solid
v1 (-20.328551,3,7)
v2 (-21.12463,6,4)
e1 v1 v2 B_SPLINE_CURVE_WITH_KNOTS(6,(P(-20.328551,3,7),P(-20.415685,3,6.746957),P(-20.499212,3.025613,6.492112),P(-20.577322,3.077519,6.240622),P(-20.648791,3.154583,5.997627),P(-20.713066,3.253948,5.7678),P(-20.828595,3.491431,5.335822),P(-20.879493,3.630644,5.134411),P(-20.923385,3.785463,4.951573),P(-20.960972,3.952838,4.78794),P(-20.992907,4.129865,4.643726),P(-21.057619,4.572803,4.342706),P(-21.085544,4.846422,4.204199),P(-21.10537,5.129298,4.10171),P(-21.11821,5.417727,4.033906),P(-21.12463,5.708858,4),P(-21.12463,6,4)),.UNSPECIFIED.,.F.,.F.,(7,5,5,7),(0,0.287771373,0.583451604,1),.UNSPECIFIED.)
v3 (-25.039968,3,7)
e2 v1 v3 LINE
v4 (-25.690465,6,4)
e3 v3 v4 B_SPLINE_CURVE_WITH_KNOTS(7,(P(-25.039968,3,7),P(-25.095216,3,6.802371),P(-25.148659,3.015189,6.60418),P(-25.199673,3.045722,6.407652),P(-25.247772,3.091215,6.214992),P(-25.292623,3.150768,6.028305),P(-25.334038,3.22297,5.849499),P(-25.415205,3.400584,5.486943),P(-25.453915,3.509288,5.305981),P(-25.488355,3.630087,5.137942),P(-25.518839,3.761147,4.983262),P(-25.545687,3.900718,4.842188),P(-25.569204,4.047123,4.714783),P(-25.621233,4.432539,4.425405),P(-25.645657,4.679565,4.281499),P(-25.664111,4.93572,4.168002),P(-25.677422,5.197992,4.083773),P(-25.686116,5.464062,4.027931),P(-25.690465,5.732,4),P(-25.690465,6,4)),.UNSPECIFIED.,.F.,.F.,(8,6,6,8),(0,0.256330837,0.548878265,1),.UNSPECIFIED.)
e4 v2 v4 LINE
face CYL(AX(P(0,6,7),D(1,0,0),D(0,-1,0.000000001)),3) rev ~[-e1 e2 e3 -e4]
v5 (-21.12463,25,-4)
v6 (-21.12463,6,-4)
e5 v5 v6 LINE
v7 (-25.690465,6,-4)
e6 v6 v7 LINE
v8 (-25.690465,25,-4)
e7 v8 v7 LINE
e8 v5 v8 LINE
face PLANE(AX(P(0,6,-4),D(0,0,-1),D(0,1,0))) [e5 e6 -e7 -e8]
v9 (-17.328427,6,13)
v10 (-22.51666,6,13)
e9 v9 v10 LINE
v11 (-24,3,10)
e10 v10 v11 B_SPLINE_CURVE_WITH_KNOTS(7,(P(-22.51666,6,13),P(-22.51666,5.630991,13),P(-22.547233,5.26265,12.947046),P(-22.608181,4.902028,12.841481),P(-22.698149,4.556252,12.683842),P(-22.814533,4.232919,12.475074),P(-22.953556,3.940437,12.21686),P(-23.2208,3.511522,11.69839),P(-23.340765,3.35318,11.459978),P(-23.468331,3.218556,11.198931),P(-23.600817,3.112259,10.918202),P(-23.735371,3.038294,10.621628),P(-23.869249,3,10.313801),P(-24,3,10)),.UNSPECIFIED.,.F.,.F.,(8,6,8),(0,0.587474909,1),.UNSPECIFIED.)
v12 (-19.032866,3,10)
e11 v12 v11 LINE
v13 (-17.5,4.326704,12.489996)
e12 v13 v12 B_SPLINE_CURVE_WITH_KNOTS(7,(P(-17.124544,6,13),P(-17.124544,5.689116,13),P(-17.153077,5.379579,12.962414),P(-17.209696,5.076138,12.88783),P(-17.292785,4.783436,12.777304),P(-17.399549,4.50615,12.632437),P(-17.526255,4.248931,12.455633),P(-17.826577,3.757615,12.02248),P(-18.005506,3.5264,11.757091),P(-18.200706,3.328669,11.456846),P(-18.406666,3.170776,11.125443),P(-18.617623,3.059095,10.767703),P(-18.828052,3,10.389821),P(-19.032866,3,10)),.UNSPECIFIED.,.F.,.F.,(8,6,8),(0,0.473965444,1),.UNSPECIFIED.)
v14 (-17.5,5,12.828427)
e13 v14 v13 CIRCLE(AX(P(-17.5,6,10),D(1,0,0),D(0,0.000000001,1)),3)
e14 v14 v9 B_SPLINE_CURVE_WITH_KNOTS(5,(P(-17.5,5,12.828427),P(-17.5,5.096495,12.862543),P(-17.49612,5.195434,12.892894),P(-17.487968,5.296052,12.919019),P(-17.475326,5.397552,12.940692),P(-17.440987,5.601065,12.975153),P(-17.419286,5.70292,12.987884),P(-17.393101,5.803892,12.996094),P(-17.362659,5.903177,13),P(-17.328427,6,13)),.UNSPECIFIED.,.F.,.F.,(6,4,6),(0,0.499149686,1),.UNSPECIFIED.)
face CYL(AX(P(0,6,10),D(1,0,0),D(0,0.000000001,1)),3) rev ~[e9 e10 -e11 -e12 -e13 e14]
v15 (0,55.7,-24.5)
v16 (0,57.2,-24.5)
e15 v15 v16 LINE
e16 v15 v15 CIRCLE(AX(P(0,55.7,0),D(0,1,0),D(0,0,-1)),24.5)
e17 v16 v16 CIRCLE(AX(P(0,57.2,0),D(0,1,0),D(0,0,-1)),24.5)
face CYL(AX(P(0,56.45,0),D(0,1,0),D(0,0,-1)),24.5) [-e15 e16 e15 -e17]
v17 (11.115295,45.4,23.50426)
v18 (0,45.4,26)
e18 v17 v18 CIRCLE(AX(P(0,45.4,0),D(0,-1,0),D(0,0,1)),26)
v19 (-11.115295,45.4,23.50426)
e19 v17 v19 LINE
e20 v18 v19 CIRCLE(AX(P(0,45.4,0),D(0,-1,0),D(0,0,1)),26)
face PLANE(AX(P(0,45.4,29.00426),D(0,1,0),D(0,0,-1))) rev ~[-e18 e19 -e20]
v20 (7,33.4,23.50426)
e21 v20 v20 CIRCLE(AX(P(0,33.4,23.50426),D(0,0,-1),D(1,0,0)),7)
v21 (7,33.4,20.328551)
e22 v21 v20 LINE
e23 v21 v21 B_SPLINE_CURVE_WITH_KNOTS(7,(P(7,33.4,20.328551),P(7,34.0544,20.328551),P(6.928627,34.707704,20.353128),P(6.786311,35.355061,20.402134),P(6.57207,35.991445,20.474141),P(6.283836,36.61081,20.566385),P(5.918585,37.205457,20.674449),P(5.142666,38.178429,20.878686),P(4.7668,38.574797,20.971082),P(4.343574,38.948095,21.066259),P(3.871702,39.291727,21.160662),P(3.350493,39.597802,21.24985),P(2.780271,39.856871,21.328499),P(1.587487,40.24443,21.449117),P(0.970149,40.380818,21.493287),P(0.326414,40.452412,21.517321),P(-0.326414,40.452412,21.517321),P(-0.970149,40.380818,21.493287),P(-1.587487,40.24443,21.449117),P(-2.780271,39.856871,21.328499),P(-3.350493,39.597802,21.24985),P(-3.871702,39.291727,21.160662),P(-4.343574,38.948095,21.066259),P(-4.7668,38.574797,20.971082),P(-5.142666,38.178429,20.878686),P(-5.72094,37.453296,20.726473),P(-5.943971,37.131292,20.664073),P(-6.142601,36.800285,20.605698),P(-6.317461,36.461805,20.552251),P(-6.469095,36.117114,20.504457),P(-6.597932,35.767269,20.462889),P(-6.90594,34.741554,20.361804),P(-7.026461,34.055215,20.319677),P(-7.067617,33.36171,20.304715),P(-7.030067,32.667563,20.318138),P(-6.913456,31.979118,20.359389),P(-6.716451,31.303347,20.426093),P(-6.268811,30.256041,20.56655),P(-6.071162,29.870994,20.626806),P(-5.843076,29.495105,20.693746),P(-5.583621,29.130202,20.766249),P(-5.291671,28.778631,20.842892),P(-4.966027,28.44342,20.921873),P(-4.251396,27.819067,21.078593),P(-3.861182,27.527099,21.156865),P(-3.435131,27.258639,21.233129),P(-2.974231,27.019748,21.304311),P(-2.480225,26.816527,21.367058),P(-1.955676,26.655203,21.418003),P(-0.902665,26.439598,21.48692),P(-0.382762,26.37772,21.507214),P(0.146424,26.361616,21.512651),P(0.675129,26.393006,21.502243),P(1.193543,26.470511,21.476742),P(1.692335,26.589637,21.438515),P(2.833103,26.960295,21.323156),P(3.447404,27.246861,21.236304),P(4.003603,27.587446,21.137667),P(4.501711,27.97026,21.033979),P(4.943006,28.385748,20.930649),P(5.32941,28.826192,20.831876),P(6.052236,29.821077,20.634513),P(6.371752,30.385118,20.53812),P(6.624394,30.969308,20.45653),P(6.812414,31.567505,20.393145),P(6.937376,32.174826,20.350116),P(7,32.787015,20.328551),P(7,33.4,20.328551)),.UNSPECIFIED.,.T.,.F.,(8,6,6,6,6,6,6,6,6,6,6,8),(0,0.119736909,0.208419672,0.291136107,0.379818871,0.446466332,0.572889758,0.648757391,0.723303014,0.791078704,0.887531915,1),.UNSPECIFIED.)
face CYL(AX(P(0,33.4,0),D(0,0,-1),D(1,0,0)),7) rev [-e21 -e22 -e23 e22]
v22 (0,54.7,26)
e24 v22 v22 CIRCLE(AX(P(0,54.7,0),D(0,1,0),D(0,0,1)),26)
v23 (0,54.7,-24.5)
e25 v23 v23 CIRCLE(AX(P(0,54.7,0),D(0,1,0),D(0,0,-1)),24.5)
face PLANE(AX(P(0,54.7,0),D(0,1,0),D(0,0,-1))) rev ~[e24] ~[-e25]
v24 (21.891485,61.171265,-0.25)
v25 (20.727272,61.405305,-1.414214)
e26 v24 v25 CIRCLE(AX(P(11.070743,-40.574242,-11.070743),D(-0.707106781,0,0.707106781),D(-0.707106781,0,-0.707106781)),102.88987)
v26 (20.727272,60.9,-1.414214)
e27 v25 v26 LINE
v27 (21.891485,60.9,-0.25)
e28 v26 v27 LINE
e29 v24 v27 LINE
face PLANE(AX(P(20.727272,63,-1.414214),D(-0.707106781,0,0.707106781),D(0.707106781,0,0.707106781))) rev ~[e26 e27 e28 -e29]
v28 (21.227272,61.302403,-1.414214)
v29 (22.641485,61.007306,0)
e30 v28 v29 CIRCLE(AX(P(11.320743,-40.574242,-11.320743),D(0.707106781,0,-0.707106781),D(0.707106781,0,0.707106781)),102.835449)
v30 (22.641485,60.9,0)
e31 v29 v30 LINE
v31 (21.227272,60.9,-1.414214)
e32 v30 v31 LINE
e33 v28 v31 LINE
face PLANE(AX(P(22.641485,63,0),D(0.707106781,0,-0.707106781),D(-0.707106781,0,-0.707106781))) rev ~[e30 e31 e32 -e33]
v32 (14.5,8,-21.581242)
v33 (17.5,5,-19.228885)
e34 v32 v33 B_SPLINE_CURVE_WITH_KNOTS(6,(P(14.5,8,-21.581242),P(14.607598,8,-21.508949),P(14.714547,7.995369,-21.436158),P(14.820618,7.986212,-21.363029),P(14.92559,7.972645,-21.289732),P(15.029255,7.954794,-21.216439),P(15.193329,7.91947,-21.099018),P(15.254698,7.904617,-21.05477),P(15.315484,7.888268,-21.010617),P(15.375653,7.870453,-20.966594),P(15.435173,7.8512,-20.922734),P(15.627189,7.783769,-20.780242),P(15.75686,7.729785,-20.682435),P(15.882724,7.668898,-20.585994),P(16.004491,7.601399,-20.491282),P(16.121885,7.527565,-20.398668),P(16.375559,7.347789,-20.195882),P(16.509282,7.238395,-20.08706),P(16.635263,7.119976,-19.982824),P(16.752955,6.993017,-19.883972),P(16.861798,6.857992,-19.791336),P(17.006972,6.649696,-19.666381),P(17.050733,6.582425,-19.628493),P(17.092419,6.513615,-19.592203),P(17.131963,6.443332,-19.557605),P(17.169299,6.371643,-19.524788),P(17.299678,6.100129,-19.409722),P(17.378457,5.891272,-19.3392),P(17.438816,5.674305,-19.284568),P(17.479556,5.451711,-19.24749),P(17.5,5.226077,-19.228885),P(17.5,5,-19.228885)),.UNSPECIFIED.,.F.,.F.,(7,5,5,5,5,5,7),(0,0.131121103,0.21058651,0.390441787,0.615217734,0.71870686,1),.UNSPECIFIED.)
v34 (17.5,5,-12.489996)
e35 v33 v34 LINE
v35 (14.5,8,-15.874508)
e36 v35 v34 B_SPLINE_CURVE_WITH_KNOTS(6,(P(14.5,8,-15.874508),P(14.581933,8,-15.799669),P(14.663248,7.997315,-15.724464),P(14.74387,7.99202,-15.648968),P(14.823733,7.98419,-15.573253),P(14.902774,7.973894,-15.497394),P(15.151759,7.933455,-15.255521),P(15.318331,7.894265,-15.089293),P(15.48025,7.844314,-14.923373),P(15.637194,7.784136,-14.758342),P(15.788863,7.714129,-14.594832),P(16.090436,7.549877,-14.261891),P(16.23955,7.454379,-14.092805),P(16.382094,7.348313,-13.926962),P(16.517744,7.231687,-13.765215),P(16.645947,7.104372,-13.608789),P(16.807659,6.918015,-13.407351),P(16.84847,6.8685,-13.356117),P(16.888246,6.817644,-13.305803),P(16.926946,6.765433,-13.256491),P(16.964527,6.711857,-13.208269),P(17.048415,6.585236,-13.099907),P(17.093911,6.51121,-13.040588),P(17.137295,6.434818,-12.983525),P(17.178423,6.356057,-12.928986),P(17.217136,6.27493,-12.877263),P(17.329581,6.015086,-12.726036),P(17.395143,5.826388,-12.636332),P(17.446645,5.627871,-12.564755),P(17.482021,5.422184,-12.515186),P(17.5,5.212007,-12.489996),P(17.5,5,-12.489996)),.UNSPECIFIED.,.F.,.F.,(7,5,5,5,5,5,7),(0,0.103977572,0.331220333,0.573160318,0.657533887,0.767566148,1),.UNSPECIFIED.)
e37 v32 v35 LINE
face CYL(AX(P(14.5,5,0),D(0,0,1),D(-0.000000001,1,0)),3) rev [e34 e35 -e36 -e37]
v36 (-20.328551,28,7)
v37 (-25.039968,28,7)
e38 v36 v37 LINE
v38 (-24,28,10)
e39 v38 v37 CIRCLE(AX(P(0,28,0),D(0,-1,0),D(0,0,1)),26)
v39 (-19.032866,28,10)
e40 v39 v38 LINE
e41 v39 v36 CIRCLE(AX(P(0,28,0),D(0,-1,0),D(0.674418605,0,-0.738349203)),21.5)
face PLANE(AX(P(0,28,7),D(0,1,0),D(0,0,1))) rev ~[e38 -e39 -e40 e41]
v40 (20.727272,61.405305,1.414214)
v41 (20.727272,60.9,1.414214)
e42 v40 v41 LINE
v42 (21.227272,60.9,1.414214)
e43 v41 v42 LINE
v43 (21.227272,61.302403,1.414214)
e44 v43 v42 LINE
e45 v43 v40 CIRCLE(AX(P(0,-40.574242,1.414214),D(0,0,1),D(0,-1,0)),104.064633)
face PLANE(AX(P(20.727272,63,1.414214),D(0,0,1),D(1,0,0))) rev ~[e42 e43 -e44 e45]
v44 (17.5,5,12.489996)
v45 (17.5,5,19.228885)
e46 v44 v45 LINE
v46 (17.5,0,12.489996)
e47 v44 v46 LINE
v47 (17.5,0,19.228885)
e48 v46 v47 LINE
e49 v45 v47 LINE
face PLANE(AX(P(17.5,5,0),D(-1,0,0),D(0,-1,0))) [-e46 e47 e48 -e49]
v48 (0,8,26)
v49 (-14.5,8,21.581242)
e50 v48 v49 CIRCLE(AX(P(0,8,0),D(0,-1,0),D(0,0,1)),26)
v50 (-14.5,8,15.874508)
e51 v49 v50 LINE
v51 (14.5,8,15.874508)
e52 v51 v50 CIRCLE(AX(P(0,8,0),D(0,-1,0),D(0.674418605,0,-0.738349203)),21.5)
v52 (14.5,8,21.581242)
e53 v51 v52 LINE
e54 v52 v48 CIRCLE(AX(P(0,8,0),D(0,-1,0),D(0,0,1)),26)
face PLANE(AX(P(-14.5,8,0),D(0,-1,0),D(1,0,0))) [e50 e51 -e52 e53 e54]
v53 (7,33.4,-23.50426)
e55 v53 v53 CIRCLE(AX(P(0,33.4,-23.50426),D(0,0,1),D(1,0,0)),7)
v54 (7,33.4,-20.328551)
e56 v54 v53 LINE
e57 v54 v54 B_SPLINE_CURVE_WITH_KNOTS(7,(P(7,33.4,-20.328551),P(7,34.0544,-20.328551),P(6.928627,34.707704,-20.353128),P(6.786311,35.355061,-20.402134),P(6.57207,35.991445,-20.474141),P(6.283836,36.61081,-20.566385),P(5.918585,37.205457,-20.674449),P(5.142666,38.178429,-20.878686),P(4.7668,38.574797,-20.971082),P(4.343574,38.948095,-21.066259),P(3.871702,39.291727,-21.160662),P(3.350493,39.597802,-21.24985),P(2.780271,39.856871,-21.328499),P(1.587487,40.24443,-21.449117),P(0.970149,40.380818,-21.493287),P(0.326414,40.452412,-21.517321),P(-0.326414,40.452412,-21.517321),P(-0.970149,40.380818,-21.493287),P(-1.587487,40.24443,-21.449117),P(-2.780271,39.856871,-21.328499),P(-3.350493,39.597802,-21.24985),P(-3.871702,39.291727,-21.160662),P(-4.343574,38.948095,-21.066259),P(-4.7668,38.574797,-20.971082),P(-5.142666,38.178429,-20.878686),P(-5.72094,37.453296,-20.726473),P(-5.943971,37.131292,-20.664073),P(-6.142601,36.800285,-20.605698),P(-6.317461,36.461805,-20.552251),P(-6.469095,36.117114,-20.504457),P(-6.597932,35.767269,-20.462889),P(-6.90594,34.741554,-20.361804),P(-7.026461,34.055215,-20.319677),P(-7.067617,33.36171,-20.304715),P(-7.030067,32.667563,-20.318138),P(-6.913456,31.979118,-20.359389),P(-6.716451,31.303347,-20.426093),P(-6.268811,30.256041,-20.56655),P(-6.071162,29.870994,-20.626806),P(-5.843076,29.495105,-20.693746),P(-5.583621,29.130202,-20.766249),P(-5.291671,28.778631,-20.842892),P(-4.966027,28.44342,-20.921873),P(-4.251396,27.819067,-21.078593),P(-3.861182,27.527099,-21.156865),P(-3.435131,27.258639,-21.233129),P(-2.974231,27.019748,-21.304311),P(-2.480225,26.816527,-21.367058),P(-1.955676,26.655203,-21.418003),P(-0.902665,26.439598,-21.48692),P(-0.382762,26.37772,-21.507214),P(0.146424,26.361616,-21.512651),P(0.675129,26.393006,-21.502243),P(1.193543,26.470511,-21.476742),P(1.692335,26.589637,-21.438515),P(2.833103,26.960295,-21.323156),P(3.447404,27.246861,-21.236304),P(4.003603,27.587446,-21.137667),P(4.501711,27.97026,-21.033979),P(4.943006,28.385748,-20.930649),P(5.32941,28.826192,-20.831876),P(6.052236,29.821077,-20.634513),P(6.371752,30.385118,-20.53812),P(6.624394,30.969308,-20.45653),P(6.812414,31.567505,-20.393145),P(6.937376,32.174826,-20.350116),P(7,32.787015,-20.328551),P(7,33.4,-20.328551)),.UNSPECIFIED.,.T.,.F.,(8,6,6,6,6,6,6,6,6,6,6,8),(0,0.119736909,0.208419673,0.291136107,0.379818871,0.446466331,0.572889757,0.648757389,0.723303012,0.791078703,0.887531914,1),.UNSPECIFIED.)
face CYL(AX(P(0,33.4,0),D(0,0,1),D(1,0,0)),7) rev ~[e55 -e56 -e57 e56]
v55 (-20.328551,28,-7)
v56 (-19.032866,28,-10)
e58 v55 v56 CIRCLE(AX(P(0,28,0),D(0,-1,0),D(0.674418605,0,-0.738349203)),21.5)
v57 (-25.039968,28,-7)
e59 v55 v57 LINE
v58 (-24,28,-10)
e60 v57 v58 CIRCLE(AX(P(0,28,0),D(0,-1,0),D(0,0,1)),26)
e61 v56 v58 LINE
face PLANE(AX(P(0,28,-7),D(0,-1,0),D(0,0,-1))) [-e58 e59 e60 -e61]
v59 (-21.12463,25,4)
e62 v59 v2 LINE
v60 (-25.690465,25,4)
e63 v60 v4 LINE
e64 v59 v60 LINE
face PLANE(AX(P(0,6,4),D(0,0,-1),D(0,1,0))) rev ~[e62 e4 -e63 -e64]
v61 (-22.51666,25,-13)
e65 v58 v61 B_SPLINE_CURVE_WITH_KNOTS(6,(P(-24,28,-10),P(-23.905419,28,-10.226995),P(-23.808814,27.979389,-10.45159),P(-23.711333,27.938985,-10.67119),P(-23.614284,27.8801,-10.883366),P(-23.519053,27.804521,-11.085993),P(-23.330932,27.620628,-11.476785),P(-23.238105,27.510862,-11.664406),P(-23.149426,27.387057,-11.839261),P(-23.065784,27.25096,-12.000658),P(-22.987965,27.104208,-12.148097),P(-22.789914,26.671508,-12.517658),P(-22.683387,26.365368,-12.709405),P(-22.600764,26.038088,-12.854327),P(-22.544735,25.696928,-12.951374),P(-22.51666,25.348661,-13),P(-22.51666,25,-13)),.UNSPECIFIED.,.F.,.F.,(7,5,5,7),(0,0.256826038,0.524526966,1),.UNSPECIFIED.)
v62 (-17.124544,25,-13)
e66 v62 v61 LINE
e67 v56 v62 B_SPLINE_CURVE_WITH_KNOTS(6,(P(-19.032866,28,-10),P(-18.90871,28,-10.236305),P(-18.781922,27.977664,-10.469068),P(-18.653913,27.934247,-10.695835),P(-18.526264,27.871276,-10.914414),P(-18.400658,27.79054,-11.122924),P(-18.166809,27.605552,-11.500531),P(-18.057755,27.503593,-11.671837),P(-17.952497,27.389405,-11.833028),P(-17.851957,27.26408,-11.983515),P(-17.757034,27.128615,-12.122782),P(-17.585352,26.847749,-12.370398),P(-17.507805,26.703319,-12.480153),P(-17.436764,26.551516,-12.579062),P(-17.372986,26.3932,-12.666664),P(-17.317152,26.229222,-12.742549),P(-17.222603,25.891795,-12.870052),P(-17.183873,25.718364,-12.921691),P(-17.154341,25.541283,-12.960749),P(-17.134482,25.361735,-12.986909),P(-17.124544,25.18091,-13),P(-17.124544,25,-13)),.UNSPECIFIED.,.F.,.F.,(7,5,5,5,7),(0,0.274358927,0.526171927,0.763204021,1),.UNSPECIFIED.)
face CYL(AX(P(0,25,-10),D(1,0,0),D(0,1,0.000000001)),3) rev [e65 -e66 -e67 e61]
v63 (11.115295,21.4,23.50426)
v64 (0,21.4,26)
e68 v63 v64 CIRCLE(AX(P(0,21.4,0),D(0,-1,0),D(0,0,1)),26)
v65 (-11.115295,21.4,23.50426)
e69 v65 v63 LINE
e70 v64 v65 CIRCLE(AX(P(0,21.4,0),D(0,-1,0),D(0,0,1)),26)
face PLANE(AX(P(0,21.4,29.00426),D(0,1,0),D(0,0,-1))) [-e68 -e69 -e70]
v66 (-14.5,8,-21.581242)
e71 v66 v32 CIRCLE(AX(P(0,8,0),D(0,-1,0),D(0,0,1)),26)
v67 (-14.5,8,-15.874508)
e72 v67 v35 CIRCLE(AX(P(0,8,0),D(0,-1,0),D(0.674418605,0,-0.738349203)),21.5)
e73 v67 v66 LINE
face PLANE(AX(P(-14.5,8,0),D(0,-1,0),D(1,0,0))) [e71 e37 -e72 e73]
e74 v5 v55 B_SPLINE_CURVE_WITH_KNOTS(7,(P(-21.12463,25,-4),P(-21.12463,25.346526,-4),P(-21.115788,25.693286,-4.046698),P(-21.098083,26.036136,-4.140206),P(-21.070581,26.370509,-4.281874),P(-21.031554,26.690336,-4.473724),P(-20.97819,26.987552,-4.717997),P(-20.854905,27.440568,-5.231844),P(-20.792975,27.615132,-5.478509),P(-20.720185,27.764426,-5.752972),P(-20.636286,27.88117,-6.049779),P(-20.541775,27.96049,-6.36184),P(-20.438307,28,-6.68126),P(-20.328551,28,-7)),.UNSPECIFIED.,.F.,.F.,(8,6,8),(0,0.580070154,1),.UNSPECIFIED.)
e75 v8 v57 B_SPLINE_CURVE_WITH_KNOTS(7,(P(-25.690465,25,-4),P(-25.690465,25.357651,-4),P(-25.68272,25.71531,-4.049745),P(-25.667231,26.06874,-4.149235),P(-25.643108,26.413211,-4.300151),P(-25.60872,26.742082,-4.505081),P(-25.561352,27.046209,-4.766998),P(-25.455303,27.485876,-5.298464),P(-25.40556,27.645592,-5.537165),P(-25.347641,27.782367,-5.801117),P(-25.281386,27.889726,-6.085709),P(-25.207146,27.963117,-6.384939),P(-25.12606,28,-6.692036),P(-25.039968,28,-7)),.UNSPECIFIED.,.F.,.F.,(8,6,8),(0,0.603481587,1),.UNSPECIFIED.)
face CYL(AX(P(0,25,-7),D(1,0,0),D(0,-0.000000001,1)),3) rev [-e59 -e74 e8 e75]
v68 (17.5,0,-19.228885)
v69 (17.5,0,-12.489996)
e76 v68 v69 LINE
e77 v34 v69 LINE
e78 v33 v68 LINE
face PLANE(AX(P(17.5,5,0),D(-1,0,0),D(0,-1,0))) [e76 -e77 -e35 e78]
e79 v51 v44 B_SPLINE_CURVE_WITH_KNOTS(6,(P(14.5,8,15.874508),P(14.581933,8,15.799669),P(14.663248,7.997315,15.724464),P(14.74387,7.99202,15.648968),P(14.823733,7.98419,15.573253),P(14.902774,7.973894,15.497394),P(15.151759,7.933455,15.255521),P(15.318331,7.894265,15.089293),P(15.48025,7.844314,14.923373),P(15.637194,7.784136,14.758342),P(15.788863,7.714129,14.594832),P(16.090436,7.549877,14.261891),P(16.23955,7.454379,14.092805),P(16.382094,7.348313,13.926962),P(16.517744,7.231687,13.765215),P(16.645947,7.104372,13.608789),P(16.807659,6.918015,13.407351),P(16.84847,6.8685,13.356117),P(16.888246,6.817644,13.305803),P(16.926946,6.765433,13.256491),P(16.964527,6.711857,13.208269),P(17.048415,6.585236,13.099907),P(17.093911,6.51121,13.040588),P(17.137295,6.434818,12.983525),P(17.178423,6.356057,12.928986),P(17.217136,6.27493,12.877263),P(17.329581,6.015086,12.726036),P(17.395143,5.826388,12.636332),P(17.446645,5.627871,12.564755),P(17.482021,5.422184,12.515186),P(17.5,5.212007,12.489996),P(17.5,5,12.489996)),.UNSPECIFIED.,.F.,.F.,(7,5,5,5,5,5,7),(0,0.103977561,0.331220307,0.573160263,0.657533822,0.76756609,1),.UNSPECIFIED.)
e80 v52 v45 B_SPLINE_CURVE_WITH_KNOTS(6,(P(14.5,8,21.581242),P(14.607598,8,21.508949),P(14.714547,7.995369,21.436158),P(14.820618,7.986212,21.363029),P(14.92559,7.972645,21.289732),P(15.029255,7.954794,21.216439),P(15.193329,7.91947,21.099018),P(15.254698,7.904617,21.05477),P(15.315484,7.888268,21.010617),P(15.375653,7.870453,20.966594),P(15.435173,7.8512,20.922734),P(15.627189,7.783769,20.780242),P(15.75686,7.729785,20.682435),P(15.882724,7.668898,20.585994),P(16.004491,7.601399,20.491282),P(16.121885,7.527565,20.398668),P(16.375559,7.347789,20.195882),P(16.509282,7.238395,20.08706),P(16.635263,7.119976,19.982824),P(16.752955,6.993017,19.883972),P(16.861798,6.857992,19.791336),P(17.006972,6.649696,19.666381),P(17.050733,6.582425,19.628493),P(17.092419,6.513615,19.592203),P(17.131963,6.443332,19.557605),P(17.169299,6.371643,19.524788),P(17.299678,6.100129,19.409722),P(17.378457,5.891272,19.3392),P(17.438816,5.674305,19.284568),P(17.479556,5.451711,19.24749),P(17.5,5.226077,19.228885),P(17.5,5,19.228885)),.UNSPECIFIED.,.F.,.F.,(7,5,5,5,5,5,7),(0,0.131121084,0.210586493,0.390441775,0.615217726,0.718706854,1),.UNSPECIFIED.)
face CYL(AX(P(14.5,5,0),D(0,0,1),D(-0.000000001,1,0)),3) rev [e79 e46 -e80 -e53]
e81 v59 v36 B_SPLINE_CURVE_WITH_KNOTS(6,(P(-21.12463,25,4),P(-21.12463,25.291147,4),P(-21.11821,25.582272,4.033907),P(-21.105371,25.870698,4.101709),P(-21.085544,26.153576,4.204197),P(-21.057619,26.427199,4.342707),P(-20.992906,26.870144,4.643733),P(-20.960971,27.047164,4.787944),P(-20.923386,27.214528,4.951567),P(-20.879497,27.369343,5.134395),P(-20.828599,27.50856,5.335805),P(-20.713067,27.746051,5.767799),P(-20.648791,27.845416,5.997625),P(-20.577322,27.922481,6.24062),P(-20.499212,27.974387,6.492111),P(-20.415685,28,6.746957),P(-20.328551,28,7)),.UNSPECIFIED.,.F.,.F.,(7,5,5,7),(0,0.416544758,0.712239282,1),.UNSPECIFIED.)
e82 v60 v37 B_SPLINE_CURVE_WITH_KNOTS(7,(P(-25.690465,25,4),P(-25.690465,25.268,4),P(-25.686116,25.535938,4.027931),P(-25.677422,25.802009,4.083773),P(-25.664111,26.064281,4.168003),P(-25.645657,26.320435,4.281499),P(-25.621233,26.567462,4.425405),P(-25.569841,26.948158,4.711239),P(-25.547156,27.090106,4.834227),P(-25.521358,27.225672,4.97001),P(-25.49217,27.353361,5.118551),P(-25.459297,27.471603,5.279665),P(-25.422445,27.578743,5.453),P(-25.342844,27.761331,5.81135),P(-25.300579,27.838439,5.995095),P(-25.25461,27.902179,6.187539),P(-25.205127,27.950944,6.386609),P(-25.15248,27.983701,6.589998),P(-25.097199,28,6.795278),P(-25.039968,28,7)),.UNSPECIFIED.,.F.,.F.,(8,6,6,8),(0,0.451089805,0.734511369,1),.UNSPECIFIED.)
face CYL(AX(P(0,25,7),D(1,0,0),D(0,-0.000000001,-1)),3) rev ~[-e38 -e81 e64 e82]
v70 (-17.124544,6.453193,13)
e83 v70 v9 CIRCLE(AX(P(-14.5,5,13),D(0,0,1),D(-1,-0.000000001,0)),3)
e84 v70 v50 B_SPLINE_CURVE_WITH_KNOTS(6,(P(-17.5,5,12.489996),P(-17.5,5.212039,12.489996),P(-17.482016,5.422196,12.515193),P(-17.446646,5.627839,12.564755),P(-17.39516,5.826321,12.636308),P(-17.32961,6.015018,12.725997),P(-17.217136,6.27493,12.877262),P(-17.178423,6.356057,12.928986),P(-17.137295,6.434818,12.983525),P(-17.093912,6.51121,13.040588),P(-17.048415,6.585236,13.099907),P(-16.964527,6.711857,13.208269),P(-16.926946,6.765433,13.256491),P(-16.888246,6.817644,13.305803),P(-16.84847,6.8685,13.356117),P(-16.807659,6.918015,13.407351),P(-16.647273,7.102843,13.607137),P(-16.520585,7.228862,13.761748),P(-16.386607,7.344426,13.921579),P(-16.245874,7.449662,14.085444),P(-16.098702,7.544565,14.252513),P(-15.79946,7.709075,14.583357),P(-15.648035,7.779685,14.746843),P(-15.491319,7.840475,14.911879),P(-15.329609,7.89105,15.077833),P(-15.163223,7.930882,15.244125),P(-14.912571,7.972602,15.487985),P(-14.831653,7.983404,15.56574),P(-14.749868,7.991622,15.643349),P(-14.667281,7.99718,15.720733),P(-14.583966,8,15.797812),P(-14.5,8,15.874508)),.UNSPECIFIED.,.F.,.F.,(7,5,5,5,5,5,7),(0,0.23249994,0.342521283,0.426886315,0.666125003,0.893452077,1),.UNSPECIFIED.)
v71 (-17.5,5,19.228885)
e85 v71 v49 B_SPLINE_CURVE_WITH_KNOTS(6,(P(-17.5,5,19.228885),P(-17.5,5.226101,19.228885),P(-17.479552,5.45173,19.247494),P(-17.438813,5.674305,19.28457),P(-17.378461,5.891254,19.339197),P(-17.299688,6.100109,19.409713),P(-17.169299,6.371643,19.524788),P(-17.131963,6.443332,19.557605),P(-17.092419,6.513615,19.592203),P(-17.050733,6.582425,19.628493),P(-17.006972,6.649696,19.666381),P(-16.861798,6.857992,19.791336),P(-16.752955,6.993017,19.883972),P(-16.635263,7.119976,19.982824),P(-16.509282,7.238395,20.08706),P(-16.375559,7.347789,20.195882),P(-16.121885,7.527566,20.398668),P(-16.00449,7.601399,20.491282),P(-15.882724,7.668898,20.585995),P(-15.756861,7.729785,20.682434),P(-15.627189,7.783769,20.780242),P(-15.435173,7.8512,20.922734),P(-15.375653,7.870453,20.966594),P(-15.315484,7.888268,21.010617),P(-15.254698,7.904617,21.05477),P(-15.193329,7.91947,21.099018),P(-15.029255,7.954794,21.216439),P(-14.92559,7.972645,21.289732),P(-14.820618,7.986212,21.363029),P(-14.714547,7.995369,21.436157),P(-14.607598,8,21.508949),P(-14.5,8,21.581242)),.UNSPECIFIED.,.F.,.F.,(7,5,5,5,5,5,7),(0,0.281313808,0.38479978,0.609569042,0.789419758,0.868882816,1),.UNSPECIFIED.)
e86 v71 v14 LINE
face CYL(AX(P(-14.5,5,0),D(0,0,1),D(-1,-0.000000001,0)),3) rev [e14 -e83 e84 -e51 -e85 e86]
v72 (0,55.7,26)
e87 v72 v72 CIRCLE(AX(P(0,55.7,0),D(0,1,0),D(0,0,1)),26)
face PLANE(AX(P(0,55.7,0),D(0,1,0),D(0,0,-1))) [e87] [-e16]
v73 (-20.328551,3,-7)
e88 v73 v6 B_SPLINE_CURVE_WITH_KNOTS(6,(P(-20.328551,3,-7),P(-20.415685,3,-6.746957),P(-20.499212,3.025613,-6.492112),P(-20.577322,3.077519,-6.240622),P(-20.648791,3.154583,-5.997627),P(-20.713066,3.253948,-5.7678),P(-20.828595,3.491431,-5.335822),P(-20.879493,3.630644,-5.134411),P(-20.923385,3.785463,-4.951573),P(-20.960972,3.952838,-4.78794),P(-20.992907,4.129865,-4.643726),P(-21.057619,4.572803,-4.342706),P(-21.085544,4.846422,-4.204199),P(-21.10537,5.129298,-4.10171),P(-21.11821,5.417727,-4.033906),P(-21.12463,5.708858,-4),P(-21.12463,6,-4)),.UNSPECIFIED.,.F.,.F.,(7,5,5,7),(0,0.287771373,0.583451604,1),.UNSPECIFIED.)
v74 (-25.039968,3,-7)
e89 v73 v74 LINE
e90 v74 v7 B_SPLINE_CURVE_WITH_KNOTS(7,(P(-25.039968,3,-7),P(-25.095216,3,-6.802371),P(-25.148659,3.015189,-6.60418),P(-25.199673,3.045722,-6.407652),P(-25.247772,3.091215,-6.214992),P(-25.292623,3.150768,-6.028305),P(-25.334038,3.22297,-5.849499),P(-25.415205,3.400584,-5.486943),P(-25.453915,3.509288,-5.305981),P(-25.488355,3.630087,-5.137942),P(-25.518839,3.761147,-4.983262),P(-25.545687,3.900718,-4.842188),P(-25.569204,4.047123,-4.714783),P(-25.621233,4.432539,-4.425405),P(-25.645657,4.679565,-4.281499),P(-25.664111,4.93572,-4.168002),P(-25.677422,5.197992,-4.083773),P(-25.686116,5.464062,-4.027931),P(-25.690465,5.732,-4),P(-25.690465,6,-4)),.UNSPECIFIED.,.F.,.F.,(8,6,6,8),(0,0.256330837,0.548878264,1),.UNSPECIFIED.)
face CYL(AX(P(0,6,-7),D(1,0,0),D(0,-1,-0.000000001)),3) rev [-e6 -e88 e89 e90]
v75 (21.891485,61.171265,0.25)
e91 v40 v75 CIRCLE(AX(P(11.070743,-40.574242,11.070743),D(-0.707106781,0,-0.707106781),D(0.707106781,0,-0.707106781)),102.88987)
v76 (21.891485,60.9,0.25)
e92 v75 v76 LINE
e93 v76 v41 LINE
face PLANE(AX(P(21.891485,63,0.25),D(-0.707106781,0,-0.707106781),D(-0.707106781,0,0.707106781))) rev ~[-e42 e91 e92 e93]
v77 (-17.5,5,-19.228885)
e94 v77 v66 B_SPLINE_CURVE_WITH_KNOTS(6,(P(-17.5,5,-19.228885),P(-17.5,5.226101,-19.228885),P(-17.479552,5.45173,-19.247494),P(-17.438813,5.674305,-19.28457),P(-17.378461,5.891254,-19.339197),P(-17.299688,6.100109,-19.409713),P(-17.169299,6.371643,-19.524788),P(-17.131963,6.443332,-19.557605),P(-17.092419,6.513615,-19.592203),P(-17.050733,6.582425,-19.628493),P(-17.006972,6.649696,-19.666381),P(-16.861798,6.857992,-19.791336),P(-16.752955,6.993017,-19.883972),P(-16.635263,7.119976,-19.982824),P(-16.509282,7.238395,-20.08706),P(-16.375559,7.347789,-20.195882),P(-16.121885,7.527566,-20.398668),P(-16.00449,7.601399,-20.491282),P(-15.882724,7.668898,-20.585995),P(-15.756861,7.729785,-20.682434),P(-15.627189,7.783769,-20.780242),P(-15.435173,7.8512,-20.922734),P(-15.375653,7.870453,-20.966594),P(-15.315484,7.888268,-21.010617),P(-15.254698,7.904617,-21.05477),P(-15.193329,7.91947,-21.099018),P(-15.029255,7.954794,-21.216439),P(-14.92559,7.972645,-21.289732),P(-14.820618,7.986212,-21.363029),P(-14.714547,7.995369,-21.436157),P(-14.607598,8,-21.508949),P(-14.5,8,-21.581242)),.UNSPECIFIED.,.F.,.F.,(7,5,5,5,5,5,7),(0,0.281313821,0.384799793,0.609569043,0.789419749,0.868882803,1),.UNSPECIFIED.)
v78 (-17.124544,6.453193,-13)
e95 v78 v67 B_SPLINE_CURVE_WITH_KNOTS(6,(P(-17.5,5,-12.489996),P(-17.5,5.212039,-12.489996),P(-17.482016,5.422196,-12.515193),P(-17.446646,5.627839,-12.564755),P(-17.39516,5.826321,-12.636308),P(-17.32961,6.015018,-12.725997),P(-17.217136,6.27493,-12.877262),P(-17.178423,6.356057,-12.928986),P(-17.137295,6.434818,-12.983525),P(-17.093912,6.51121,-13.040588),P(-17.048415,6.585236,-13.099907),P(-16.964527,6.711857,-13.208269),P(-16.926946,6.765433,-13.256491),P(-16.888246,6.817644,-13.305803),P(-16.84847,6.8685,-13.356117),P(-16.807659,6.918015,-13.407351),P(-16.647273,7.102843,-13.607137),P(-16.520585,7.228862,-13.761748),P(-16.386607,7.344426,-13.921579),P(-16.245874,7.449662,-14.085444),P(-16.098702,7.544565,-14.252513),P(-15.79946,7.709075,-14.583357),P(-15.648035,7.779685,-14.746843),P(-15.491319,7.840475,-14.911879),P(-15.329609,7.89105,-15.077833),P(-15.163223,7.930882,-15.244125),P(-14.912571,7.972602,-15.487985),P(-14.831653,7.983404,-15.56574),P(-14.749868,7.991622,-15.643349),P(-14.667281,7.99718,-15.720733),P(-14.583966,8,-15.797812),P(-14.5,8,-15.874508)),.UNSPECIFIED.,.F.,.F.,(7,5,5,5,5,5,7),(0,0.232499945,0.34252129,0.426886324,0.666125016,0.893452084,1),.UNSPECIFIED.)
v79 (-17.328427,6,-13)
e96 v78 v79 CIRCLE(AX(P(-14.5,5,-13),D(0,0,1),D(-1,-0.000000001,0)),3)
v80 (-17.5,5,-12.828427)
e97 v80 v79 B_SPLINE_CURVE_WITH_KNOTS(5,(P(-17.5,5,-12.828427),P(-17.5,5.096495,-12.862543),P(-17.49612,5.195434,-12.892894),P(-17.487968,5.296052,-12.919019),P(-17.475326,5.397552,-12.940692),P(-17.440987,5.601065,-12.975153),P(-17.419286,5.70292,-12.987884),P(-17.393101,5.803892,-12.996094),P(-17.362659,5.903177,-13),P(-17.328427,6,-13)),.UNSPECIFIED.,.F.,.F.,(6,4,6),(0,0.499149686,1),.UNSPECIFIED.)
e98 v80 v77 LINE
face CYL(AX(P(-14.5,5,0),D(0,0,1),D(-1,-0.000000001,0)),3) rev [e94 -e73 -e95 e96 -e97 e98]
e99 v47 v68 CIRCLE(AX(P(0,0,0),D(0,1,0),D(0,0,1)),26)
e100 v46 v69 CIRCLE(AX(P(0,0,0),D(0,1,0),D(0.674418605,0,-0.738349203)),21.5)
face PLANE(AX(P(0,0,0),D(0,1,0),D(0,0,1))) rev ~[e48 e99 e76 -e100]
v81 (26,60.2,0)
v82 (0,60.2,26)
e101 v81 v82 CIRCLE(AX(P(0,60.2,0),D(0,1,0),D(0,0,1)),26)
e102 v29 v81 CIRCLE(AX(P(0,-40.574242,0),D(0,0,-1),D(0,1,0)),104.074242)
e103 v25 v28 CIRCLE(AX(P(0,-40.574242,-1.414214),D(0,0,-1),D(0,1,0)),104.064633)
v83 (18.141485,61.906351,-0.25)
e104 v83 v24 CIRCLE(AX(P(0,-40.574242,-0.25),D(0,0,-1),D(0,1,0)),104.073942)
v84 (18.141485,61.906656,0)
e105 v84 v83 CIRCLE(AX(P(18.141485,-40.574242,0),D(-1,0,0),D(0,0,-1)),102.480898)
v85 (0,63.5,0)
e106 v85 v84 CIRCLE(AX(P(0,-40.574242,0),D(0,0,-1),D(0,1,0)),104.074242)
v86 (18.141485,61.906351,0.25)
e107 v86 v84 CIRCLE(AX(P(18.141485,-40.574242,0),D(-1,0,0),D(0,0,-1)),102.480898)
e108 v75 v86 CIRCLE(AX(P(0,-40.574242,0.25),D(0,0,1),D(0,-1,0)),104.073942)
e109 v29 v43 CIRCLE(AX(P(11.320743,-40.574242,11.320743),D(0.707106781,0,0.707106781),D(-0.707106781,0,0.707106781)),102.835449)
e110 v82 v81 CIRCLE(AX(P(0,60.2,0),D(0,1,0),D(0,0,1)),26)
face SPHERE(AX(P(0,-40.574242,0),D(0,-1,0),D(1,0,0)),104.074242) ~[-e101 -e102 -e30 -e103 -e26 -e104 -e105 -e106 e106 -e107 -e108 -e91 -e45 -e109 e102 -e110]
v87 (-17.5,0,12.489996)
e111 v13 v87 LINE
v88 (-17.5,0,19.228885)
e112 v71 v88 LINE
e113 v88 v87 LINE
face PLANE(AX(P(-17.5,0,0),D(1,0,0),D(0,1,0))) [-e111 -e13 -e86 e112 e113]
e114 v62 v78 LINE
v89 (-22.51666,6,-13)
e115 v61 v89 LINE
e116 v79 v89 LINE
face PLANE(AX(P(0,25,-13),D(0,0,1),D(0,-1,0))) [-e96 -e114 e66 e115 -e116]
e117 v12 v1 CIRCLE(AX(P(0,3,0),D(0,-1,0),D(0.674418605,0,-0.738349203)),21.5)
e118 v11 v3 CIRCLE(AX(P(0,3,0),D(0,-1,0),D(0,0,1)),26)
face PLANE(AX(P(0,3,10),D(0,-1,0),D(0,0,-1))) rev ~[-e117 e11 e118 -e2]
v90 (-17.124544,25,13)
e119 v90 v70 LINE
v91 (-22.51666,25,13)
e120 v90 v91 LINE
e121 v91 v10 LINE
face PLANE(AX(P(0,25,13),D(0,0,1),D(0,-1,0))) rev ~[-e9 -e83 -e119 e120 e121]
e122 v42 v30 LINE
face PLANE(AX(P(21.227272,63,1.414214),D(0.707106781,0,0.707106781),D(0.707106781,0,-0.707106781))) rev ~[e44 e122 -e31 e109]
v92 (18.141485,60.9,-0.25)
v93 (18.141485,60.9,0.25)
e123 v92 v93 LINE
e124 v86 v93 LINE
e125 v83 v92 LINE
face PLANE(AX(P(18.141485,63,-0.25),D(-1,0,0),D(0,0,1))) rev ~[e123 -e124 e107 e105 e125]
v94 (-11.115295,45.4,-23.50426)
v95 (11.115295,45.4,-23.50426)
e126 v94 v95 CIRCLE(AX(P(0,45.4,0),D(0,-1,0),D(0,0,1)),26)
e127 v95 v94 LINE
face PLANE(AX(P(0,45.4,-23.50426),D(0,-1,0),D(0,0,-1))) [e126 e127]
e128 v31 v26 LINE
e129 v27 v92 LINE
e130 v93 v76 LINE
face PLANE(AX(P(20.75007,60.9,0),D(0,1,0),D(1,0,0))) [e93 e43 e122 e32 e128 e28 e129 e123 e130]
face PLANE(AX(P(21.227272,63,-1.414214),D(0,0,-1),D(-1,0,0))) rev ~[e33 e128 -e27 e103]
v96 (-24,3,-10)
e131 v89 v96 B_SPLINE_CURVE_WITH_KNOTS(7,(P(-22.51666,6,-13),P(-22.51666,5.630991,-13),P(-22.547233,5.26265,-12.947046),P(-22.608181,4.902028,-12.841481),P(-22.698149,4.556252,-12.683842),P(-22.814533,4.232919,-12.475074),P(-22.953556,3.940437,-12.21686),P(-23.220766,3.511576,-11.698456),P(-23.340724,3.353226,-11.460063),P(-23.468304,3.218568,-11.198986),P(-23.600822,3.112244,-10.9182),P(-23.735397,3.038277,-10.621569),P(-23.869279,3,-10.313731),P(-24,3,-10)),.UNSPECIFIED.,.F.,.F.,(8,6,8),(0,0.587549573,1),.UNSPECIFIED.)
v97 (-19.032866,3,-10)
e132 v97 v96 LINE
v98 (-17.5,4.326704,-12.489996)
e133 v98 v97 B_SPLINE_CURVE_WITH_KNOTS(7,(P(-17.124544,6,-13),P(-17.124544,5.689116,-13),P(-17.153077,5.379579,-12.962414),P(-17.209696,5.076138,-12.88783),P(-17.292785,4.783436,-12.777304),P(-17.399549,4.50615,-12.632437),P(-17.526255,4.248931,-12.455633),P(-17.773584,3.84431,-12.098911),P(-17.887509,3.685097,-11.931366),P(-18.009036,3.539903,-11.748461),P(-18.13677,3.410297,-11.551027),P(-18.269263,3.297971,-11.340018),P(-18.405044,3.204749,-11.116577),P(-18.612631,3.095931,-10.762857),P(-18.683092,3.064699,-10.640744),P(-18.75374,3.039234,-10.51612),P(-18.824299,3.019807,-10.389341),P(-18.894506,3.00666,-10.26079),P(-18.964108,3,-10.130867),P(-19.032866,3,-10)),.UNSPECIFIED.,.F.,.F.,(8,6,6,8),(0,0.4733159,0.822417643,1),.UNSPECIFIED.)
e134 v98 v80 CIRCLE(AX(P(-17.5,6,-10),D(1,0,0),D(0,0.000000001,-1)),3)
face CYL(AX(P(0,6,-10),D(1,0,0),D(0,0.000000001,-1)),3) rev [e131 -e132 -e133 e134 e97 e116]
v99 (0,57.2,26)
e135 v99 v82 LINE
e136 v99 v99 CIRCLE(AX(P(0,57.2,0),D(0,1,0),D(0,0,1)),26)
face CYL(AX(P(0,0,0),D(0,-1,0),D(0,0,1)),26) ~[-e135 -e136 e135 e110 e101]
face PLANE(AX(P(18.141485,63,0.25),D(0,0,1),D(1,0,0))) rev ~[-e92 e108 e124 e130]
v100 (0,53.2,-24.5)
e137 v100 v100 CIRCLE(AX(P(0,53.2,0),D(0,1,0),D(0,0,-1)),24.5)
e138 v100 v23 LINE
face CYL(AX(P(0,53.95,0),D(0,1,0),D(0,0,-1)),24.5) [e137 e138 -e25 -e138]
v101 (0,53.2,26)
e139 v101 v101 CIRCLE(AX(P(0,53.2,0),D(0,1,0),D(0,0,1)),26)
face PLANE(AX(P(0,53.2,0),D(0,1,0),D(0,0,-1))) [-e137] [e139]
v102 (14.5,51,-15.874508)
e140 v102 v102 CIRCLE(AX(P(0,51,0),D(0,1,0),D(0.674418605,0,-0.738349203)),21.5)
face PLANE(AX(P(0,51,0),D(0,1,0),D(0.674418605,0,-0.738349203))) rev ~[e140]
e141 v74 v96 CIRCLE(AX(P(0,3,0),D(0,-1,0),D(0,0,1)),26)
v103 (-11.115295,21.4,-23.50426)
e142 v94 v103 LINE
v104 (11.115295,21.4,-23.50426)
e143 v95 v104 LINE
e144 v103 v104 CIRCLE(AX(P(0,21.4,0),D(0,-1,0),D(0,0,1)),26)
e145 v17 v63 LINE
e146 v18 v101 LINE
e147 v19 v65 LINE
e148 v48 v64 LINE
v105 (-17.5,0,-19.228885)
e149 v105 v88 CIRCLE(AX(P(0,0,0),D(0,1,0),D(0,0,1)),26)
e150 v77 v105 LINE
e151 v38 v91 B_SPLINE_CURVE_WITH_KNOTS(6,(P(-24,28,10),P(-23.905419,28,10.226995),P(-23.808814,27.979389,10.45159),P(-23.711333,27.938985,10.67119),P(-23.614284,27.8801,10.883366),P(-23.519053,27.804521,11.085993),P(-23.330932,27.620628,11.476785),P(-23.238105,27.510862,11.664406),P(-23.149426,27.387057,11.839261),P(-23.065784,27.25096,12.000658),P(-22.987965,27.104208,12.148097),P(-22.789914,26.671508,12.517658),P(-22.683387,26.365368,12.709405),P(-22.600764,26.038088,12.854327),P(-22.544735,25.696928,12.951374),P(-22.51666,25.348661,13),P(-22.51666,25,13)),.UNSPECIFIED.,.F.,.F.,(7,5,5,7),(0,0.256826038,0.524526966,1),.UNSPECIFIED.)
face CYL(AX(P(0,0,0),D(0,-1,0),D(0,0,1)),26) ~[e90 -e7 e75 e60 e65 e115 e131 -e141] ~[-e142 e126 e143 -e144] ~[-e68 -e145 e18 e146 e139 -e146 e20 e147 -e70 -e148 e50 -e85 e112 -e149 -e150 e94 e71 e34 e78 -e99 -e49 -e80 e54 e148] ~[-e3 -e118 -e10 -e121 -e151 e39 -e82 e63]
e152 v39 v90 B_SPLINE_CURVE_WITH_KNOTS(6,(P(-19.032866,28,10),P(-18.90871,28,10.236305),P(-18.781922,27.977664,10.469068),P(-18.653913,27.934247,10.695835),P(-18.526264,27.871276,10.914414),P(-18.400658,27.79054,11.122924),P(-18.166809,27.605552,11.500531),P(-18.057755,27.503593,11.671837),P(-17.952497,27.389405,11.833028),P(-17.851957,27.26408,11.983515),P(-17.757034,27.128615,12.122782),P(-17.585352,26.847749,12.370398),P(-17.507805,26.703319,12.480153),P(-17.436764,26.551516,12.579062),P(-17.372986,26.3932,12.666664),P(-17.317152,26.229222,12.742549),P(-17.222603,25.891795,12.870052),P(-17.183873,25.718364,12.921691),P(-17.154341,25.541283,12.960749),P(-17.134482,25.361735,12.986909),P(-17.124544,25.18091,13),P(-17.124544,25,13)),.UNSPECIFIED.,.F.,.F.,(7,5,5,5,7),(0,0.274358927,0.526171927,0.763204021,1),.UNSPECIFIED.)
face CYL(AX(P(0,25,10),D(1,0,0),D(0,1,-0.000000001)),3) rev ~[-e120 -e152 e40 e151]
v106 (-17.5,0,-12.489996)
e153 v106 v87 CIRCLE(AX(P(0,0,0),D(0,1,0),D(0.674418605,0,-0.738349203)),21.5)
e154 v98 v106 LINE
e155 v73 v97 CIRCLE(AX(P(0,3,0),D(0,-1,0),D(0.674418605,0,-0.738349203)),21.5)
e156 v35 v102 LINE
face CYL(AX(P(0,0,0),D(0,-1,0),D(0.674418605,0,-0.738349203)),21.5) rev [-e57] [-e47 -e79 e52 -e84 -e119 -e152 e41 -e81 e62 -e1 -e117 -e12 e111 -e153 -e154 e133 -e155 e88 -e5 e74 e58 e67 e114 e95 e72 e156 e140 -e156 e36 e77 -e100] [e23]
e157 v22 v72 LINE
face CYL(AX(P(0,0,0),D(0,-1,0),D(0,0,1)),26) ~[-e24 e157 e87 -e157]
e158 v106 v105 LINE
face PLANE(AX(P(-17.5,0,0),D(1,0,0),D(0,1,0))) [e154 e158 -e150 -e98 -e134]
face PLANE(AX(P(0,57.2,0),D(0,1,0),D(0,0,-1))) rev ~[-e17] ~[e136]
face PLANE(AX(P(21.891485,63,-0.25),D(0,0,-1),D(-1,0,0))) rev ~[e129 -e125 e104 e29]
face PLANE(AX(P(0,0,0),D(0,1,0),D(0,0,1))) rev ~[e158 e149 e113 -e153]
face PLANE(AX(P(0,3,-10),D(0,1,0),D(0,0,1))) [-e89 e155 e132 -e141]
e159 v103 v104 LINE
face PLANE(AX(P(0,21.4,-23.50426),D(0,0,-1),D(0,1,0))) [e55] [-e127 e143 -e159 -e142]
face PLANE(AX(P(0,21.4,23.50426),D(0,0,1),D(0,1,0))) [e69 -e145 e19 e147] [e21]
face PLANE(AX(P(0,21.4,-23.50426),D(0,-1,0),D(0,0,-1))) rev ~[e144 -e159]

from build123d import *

# Parameters (mm, degrees)
SKETCH_1_R          = 26
EXTRUDE_1_DEPTH     = 60.2
SKETCH_3_R          = 7
CUT_EXTRUDE_1_DEPTH = 30.1
SKETCH_4_R          = 21.5
CUT_EXTRUDE_2_DEPTH = 51
SKETCH_5_W          = 1.5
SKETCH_5_H          = 1.5
CUT_EXTRUDE_3_DEPTH = 50
SKETCH_9_W          = 5.5
SKETCH_9_H          = 24
CUT_EXTRUDE_4_DEPTH = 25
CUT_EXTRUDE_5_DEPTH = 2.1


with BuildPart() as part:
    # Эскиз1 → Бобышка-Вытянуть1 (new body)
    with BuildSketch(Plane(origin=(0, 0, 0), x_dir=(1, 0, 0), z_dir=(0, 1, 0))):
        with Locations(Location((0, 0, 0), (0, 0, 270))):
            Circle(SKETCH_1_R)
    extrude(amount=EXTRUDE_1_DEPTH)

    # Эскиз2 → Повернуть1 (revolve)
    with BuildSketch(Plane.XY):
        with BuildLine():
            Line((26, 60.2), (0, 60.2))
            Line((0, 60.2), (0, 63.5))
            ThreePointArc((0, 63.5), (13.10429319, 62.671703918), (26, 60.2))
        make_face()
    revolve(axis=Axis((0, 60.2, 0), (0, 1, 0)))

    # Эскиз3 → Вырез-Вытянуть1 (cut, symmetric)
    with BuildSketch(Plane.XY):
        with Locations((0, 33.4)):
            Circle(SKETCH_3_R)
        with BuildLine():
            Line((17.5, 0), (-17.5, 0))
            Line((-17.5, 0), (-17.5, 5))
            ThreePointArc((-17.5, 5), (-16.621320344, 7.121320344), (-14.5, 8))
            Line((-14.5, 8), (14.5, 8))
            ThreePointArc((14.5, 8), (16.621320344, 7.121320344), (17.5, 5))
            Line((17.5, 5), (17.5, 0))
        make_face()
    extrude(amount=CUT_EXTRUDE_1_DEPTH, both=True, mode=Mode.SUBTRACT)

    # Эскиз4 → Вырез-Вытянуть2 (cut)
    with BuildSketch(Plane(origin=(0, 0, 0), x_dir=(1, 0, 0), z_dir=(0, 1, 0))):
        with Locations(Location((0, 0, 0), (0, 0, 47.590982222))):
            Circle(SKETCH_4_R)
    extrude(amount=CUT_EXTRUDE_2_DEPTH, mode=Mode.SUBTRACT)

    # Эскиз5 → Вырез-Повернуть1 (revolve, cut)
    with BuildSketch(Plane.XY, mode=Mode.PRIVATE) as cut_revolve_1_sk:
        with Locations((-25.25, 56.45)):
            Rectangle(SKETCH_5_W, SKETCH_5_H)
        with Locations((-25.25, 53.95)):
            Rectangle(SKETCH_5_W, SKETCH_5_H)
    revolve(cut_revolve_1_sk.sketch.rotate(Axis((0, 37.032198444, 0), (0, 1, 0)), 270), axis=Axis((0, 37.032198444, 0), (0, 1, 0)), mode=Mode.SUBTRACT)

    # Эскиз6 → Вырез-Вытянуть3 (cut)
    with BuildSketch(Plane(origin=(0, 0, 0), x_dir=(0, 0, -1), z_dir=(1, 0, 0))):
        with BuildLine():
            Line((-4, 6), (-4, 25))
            ThreePointArc((-4, 25), (-4.878679656, 27.121320344), (-7, 28))
            Line((-7, 28), (-10, 28))
            ThreePointArc((-10, 28), (-12.121320344, 27.121320344), (-13, 25))
            Line((-13, 25), (-13, 6))
            ThreePointArc((-13, 6), (-12.121320344, 3.878679656), (-10, 3))
            Line((-10, 3), (-7, 3))
            ThreePointArc((-7, 3), (-4.878679656, 3.878679656), (-4, 6))
        make_face()
        with BuildLine():
            Line((10, 3), (7, 3))
            ThreePointArc((7, 3), (4.878679656, 3.878679656), (4, 6))
            Line((4, 6), (4, 25))
            ThreePointArc((4, 25), (4.878679656, 27.121320344), (7, 28))
            Line((7, 28), (10, 28))
            ThreePointArc((10, 28), (12.121320344, 27.121320344), (13, 25))
            Line((13, 25), (13, 6))
            ThreePointArc((13, 6), (12.121320344, 3.878679656), (10, 3))
        make_face()
    extrude(amount=-CUT_EXTRUDE_3_DEPTH, mode=Mode.SUBTRACT)

    # Эскиз9 → Вырез-Вытянуть4 (cut, symmetric)
    with BuildSketch(Plane(origin=(0, 0, 0), x_dir=(0, 0, -1), z_dir=(1, 0, 0))):
        with Locations((-26.254259625, 33.4)):
            Rectangle(SKETCH_9_W, SKETCH_9_H)
        with Locations((26.254259625, 33.4)):
            Rectangle(SKETCH_9_W, SKETCH_9_H)
    extrude(amount=CUT_EXTRUDE_4_DEPTH, both=True, mode=Mode.SUBTRACT)

    # Эскиз10 → Вырез-Вытянуть5 (cut)
    with BuildSketch(Plane(origin=(0, 63, 0), x_dir=(1, 0, 0), z_dir=(0, 1, 0))):
        Polygon((22.641485295, 0), (21.227271732, 1.414213562), (20.727271732, 1.414213562), (21.891485295, 0.25), (18.141485295, 0.25), (18.141485295, -0.25), (21.891485295, -0.25), (20.727271732, -1.414213562), (21.227271732, -1.414213562), align=None)
    extrude(amount=-CUT_EXTRUDE_5_DEPTH, mode=Mode.SUBTRACT)


solid = part.part
